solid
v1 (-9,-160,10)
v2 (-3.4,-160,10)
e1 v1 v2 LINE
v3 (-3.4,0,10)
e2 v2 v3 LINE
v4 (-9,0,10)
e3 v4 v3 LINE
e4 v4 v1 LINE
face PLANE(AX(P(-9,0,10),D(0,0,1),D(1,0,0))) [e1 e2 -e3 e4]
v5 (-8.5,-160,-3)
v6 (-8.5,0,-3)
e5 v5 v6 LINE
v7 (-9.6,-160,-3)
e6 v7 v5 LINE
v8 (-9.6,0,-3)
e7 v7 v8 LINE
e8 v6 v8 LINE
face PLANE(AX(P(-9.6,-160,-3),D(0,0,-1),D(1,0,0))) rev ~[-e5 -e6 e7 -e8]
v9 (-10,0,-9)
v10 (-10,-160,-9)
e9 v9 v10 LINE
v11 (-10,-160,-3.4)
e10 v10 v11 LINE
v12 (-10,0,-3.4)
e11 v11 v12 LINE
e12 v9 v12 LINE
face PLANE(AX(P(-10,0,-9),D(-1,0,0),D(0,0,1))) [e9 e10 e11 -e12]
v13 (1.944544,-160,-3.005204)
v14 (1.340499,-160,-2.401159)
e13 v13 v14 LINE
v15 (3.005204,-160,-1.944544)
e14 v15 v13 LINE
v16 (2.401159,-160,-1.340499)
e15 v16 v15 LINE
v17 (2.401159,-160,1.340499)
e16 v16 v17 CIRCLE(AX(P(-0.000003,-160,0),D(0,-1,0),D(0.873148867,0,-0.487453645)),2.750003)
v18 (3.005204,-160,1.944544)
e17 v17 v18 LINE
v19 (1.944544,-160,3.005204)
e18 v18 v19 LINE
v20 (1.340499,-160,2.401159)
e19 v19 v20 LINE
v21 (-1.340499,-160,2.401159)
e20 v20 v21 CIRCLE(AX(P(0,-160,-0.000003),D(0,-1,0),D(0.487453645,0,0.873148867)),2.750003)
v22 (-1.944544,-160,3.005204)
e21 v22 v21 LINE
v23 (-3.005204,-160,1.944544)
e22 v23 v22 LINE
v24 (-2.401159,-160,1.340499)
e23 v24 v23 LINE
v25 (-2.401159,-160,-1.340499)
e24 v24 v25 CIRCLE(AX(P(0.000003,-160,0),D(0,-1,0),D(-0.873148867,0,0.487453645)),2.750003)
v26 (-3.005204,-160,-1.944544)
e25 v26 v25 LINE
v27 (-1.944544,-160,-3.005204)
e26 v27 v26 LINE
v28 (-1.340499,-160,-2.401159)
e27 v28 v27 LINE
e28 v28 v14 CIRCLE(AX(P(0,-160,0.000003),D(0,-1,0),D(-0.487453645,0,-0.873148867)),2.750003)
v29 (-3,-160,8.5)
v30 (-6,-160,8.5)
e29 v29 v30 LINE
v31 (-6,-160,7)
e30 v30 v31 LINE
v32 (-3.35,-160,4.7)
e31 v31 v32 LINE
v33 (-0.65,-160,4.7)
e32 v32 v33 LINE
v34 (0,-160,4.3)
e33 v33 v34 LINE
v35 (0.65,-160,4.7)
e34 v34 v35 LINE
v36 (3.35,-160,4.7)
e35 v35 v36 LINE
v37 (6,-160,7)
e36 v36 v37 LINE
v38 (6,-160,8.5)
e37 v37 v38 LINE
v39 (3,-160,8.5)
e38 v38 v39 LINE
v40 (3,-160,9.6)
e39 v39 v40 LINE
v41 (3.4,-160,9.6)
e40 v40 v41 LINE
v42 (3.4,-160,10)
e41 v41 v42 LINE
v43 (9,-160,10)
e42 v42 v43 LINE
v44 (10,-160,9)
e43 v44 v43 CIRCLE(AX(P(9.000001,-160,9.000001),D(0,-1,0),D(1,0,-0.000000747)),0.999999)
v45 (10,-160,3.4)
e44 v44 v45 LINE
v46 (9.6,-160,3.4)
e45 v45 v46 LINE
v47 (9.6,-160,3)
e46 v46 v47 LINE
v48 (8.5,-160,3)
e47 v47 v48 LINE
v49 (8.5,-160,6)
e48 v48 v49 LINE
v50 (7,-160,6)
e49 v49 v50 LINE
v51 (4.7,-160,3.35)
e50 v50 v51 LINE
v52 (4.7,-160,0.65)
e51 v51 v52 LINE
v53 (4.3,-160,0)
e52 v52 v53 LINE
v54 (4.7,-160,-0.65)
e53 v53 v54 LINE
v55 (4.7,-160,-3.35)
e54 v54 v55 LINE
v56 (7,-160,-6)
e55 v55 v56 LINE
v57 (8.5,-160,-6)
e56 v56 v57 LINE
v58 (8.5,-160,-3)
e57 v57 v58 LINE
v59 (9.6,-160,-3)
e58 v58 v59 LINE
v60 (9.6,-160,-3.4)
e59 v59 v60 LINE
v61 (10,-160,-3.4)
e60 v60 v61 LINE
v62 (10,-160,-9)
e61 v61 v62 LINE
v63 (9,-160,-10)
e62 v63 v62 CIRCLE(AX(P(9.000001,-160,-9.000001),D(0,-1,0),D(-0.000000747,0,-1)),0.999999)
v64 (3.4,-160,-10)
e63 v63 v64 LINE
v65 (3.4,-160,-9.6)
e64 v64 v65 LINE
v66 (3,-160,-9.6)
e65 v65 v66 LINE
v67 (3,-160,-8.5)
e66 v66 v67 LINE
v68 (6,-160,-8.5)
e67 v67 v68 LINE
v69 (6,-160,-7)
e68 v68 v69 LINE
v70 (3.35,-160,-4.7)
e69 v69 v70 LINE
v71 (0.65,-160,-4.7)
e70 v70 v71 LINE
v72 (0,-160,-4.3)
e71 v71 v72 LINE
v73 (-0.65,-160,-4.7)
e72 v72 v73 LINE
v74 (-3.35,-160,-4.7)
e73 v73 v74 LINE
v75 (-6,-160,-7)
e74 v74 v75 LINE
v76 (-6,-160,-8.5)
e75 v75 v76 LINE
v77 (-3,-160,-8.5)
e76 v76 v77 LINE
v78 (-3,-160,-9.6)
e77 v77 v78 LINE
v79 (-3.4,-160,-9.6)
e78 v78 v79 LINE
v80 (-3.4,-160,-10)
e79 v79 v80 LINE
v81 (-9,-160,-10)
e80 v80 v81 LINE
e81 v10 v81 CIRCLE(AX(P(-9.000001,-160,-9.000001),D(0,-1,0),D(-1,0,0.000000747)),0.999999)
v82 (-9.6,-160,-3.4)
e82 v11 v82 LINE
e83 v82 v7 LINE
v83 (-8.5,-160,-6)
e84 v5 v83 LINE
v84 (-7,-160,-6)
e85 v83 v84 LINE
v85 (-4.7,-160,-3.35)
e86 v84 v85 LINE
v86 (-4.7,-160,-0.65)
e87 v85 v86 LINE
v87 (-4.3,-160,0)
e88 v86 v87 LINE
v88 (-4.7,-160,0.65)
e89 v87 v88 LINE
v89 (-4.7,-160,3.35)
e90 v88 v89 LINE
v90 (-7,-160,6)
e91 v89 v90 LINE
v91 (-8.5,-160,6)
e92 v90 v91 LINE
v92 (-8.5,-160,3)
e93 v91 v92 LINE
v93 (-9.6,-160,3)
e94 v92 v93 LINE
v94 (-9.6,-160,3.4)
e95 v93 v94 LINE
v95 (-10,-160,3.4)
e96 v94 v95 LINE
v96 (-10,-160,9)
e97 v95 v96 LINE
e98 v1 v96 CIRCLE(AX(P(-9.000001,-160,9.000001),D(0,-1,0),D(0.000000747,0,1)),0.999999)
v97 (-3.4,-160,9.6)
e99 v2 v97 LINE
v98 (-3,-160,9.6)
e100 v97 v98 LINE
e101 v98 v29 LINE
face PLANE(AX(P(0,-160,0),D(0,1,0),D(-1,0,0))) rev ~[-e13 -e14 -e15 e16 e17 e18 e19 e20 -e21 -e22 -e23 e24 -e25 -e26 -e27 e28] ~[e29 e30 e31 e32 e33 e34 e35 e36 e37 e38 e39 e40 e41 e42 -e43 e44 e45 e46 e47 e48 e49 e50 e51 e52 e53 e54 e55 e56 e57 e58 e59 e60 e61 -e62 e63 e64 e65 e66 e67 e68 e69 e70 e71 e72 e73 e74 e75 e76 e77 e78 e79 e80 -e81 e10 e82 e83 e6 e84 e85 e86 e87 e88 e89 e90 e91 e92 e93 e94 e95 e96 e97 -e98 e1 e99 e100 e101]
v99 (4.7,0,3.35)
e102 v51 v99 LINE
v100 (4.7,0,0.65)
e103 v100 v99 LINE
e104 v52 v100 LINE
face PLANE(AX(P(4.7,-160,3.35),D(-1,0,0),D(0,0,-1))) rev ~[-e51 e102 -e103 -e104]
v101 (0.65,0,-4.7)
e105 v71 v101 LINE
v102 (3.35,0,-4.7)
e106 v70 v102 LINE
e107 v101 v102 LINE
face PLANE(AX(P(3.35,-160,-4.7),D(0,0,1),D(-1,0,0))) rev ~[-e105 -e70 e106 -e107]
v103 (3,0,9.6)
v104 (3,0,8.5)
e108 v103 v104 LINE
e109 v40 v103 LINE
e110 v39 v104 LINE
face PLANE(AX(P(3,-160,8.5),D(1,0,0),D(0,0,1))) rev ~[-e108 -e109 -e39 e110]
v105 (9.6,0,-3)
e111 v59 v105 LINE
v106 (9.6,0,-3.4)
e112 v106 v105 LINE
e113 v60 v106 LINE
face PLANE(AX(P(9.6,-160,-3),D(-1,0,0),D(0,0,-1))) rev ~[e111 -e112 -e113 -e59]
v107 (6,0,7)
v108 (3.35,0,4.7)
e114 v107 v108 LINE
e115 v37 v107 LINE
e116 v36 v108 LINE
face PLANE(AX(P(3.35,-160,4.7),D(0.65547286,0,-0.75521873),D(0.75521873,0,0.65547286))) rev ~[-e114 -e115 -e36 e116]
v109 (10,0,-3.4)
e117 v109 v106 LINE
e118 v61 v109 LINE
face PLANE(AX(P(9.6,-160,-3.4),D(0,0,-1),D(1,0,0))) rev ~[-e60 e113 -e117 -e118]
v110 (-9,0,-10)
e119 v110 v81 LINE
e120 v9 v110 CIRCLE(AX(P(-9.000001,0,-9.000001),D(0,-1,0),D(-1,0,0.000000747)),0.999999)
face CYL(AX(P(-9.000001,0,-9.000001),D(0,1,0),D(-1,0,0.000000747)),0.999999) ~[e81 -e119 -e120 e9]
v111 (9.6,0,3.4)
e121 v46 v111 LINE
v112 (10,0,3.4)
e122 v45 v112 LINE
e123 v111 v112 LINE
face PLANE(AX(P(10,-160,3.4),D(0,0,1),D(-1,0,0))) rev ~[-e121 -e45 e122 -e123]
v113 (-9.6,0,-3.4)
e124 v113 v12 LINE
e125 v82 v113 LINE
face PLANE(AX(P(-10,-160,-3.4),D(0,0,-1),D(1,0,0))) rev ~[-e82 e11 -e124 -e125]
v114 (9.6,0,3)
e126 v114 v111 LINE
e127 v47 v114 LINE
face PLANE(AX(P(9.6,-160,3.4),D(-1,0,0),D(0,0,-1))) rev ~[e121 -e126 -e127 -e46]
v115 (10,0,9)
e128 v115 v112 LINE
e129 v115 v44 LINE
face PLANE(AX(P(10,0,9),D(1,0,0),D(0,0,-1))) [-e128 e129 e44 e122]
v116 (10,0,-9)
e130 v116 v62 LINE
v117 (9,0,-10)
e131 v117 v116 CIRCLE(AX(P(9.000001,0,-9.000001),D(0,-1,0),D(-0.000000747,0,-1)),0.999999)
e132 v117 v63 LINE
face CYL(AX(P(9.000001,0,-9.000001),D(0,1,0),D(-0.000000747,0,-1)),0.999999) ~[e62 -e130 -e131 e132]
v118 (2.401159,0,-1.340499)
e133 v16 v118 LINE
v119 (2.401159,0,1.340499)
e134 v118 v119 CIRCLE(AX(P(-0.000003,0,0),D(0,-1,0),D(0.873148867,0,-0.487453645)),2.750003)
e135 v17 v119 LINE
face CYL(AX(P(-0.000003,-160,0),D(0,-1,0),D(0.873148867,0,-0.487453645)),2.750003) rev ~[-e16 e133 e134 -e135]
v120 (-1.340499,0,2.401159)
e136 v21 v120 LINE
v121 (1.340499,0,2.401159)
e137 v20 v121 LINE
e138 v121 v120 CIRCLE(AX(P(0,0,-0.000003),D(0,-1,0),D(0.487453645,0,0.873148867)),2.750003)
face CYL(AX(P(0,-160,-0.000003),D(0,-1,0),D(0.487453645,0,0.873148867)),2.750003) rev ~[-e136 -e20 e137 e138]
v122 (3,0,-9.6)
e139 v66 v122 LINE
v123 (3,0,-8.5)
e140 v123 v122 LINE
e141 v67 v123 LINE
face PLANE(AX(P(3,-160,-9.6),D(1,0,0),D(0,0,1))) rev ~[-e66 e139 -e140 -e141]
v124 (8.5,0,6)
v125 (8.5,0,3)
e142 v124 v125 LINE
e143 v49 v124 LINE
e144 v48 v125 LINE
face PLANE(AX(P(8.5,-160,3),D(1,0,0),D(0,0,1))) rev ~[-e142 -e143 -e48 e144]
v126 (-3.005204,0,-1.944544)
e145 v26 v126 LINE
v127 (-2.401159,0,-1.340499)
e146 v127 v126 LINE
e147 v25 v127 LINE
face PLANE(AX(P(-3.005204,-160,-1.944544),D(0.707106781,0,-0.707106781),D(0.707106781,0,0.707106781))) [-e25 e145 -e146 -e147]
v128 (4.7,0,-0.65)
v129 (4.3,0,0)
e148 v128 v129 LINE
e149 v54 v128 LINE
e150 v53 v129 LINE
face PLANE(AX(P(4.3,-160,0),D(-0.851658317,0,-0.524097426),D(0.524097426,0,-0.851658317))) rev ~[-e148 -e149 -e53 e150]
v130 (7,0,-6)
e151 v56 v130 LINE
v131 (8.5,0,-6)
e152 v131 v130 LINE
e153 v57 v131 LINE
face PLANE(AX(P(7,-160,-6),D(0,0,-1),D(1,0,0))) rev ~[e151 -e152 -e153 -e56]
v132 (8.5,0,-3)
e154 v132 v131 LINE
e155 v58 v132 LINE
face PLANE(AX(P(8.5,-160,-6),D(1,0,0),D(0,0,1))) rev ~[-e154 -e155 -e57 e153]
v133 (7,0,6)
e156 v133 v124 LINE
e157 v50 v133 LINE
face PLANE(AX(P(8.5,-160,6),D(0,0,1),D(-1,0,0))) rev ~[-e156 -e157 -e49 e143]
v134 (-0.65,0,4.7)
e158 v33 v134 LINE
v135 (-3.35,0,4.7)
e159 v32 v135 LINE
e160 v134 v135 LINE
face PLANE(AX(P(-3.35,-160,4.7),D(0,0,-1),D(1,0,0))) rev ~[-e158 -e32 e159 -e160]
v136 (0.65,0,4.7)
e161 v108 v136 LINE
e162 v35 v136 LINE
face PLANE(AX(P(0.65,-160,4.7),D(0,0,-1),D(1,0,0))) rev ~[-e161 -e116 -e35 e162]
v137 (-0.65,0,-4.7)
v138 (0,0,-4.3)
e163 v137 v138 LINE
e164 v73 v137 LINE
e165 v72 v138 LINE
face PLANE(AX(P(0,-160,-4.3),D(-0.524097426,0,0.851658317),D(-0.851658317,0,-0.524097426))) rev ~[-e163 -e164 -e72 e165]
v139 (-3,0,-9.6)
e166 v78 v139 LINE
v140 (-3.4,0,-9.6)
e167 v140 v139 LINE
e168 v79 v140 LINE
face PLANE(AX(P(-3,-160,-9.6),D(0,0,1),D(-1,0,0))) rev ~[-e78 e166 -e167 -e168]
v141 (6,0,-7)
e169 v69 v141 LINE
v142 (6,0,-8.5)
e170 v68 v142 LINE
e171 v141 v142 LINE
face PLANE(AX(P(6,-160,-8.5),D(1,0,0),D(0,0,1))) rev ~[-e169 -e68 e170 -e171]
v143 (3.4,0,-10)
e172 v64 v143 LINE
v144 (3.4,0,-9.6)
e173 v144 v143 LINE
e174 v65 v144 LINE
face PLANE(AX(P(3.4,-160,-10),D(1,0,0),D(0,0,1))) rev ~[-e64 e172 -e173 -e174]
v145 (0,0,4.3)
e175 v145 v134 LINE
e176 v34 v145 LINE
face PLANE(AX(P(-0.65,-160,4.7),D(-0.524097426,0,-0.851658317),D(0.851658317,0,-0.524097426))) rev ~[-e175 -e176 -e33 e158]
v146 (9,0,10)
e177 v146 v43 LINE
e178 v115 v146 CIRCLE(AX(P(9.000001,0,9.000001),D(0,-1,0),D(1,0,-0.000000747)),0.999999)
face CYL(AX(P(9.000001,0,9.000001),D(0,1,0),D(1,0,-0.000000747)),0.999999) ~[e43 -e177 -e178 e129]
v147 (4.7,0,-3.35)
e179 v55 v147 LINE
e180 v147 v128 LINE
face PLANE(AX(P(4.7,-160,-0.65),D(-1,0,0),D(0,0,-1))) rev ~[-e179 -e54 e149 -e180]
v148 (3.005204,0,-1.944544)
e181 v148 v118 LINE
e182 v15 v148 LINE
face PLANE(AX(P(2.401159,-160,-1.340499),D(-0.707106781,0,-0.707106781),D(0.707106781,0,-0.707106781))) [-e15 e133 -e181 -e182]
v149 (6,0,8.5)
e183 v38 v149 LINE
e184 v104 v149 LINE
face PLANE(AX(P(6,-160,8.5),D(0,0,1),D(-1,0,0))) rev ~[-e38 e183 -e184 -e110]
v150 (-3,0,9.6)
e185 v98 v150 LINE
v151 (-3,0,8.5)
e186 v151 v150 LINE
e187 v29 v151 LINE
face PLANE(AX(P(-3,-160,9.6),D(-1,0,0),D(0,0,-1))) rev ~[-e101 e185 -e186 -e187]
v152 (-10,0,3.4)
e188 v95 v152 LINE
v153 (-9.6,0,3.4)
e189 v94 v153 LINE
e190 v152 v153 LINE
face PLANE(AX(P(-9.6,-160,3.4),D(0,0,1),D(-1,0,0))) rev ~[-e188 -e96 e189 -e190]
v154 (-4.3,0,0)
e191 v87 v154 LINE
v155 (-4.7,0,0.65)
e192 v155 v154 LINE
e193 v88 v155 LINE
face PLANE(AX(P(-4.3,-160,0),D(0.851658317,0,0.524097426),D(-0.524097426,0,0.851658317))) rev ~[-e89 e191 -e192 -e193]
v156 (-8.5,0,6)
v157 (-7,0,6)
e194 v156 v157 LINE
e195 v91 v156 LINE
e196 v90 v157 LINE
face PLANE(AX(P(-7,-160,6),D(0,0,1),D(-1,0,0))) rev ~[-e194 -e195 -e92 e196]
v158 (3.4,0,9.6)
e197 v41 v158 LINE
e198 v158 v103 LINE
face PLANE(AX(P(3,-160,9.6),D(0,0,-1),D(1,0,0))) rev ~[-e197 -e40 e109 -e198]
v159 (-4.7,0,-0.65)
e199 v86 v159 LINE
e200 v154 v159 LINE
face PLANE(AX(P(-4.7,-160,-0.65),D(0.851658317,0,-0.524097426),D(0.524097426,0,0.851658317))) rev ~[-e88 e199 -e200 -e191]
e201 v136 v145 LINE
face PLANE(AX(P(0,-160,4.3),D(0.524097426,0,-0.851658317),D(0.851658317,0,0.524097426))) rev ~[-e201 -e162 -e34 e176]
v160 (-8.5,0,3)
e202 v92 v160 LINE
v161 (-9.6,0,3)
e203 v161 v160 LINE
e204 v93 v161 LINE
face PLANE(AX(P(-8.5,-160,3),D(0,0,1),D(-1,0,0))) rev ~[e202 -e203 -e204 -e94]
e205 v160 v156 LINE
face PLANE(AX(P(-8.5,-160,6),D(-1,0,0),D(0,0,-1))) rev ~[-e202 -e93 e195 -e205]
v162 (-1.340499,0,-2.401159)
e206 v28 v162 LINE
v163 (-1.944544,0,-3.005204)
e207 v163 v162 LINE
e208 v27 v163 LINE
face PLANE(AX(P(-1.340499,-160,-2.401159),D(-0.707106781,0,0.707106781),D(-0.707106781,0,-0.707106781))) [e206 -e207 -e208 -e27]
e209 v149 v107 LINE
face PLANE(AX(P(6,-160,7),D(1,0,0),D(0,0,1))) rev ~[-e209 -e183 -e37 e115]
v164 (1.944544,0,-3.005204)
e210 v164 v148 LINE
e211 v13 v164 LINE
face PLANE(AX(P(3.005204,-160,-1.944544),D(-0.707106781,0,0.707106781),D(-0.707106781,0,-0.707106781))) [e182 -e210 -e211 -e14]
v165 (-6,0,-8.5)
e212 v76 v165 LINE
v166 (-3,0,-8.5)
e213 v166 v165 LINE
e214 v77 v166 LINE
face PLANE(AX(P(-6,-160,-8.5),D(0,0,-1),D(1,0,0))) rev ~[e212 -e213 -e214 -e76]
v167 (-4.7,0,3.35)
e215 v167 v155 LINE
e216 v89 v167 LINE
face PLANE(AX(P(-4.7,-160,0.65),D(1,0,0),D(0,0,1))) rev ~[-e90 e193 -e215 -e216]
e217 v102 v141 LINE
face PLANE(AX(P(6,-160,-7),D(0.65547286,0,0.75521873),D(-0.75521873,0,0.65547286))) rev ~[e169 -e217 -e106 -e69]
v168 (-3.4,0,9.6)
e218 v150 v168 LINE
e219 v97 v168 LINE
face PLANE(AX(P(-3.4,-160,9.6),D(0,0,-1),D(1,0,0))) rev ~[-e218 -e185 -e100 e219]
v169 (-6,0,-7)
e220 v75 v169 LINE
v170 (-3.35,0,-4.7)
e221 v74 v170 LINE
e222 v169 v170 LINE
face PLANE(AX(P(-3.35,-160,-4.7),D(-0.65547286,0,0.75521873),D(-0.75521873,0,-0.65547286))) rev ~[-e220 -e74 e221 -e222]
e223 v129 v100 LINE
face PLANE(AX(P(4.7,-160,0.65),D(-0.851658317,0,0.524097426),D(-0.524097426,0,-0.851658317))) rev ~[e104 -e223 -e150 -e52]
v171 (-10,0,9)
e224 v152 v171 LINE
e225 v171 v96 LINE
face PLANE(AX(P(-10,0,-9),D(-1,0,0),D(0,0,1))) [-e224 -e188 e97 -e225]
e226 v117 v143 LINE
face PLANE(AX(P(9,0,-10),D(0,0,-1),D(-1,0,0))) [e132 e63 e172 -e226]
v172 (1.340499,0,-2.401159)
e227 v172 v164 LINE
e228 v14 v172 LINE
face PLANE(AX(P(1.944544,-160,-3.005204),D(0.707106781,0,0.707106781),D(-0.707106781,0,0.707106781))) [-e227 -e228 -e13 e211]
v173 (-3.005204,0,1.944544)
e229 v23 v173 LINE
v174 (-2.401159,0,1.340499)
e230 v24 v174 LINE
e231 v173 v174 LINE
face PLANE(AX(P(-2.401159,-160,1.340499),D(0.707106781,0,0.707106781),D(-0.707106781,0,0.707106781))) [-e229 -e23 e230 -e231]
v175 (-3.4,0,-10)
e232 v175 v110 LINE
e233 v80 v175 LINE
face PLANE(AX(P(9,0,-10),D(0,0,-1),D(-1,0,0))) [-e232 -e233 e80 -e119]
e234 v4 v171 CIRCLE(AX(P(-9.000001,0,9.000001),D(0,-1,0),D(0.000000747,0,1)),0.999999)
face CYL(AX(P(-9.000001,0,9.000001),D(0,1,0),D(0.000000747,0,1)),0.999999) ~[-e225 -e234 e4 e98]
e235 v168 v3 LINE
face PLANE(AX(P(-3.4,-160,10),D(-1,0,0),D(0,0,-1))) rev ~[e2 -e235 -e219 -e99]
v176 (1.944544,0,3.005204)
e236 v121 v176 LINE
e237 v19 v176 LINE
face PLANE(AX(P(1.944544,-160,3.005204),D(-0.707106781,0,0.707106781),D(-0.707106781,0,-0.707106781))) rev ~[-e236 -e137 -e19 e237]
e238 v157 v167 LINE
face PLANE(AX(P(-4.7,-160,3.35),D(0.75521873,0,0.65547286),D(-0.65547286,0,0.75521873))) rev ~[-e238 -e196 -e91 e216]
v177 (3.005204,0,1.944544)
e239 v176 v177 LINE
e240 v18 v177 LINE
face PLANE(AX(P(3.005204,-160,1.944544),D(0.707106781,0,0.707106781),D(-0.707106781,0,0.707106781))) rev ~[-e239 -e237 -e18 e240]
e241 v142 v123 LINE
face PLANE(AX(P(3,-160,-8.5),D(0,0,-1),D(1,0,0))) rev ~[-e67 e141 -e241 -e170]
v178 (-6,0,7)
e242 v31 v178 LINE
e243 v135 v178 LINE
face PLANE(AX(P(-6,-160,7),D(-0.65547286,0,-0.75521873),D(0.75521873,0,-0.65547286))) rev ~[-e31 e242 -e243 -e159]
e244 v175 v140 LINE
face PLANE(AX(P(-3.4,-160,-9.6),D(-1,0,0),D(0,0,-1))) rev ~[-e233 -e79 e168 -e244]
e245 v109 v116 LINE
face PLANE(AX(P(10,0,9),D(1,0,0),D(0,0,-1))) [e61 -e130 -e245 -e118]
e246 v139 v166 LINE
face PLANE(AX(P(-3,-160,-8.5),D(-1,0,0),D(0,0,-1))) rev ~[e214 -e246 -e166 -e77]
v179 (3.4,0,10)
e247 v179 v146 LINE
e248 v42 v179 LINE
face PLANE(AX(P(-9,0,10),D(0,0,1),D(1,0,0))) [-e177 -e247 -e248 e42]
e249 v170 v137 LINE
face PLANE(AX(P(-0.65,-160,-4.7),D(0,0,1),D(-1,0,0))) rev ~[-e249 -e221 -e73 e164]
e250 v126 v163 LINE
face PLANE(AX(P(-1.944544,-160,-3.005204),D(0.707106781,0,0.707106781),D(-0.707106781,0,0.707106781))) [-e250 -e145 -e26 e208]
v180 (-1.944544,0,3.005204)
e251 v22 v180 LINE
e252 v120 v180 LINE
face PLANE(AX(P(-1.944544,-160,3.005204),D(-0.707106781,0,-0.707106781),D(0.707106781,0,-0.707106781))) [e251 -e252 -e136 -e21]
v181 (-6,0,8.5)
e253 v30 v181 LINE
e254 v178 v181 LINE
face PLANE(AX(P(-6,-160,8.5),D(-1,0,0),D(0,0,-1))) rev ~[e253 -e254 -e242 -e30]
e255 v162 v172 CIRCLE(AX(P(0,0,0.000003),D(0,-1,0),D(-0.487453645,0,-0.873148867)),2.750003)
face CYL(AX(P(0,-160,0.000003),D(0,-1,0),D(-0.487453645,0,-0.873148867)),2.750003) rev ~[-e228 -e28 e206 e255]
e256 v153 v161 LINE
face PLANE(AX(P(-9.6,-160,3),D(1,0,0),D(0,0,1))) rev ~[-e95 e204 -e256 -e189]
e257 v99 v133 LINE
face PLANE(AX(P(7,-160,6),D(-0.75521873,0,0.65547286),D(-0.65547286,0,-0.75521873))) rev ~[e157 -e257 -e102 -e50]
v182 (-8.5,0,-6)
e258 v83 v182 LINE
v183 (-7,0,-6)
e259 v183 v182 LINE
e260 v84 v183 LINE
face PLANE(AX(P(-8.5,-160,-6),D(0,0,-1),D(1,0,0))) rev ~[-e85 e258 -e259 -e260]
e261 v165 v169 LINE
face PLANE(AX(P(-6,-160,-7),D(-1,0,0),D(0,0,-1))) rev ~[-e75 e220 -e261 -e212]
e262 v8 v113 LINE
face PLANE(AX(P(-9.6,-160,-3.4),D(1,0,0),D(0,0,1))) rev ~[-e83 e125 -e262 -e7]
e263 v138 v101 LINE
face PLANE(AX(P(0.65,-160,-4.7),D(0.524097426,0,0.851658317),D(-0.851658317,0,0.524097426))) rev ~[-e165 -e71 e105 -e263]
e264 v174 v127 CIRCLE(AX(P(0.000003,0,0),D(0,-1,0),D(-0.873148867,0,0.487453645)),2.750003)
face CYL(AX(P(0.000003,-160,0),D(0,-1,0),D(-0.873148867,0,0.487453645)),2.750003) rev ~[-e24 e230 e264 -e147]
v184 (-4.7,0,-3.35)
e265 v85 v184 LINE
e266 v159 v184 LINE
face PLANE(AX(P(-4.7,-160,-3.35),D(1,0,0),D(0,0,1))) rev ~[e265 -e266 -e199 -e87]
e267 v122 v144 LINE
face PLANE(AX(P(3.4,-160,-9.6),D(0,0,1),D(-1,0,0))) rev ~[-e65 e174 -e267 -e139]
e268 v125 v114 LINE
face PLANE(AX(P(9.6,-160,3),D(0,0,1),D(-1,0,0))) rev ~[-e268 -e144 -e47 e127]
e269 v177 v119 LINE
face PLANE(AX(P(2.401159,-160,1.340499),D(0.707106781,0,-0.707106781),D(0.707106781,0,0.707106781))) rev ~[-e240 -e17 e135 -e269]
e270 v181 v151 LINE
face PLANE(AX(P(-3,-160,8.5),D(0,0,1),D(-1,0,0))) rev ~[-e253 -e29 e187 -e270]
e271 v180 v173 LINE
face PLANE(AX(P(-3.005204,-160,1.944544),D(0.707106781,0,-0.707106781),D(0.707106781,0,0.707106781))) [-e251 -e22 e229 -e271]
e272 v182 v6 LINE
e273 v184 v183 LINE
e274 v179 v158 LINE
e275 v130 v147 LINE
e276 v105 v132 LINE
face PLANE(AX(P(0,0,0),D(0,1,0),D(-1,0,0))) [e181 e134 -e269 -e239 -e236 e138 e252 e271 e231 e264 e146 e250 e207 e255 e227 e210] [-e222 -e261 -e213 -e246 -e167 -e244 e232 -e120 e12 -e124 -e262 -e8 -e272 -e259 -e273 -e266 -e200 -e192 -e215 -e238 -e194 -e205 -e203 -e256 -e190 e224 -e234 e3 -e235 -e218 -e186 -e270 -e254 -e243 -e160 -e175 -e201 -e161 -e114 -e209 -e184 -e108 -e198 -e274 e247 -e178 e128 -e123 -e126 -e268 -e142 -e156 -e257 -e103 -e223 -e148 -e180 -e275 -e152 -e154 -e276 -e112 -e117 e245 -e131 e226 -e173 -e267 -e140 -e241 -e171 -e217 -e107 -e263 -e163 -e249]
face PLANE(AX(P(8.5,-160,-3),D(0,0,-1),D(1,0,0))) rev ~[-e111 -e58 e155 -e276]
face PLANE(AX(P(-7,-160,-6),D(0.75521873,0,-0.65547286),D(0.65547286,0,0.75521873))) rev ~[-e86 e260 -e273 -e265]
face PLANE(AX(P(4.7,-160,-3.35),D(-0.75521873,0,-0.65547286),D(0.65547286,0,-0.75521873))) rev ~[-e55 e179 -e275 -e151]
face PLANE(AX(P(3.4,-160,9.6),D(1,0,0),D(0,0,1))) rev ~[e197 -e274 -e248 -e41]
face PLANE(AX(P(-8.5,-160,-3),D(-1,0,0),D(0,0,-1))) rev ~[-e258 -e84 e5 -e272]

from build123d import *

# Parameters (mm, degrees)
PAD_DEPTH          = 160
POCKET_DEPTH       = 380
POLARPATTERN_COUNT = 4
POCKET001_DEPTH    = 380


with BuildPart() as part:
    # Sketch → Pad (new body)
    with BuildSketch(Plane.XZ):
        with BuildLine():
            Line((-9, 10), (9, 10))
            ThreePointArc((10, 9), (9.707107, 9.707107), (9, 10))
            Line((10, 9), (10, -9))
            ThreePointArc((9, -10), (9.707107, -9.707107), (10, -9))
            Line((9, -10), (-9, -10))
            ThreePointArc((-10, -9), (-9.707107, -9.707107), (-9, -10))
            Line((-10, -9), (-10, 9))
            ThreePointArc((-9, 10), (-9.707107, 9.707107), (-10, 9))
        make_face()
    extrude(amount=PAD_DEPTH)

    # Sketch001 (on Face10 of Pad) → Pocket (cut)
    with BuildSketch(Plane.XZ.offset(160)):
        Polygon((-3.4, 10), (-3.4, 9.6), (-3, 9.6), (-3, 8.5), (-6, 8.5), (-6, 7), (-3.35, 4.7), (-0.65, 4.7), (0, 4.3), (0.65, 4.7), (3.35, 4.7), (6, 7), (6, 8.5), (3, 8.5), (3, 9.6), (3.4, 9.6), (3.4, 10), align=None)
    pocket = extrude(amount=-POCKET_DEPTH, mode=Mode.SUBTRACT)

    # PolarPattern: Pocket ×4 about axis
    polarpattern_axis = Axis((0, -160, 0), (0, -1, 0))
    for i in range(1, POLARPATTERN_COUNT):
        add(pocket.rotate(polarpattern_axis, i * 360 / POLARPATTERN_COUNT), mode=Mode.SUBTRACT)

    # Sketch002 (on Face4 of PolarPattern) → Pocket001 (cut)
    with BuildSketch(Plane.XZ.offset(160)):
        with BuildLine():
            ThreePointArc((1.340499, 2.401159), (0, 2.75), (-1.340499, 2.401159))
            Line((-1.944544, 3.005204), (-1.340499, 2.401159))
            Line((-3.005204, 1.944544), (-1.944544, 3.005204))
            Line((-2.401159, 1.340499), (-3.005204, 1.944544))
            ThreePointArc((-2.401159, 1.340499), (-2.75, 0), (-2.401159, -1.340499))
            Line((-3.005204, -1.944544), (-2.401159, -1.340499))
            Line((-1.944544, -3.005204), (-3.005204, -1.944544))
            Line((-1.340499, -2.401159), (-1.944544, -3.005204))
            ThreePointArc((-1.340499, -2.401159), (0, -2.75), (1.340499, -2.401159))
            Line((1.944544, -3.005204), (1.340499, -2.401159))
            Line((3.005204, -1.944544), (1.944544, -3.005204))
            Line((2.401159, -1.340499), (3.005204, -1.944544))
            ThreePointArc((2.401159, -1.340499), (2.75, 0), (2.401159, 1.340499))
            Line((2.401159, 1.340499), (3.005204, 1.944544))
            Line((3.005204, 1.944544), (1.944544, 3.005204))
            Line((1.944544, 3.005204), (1.340499, 2.401159))
        make_face()
    extrude(amount=-POCKET001_DEPTH, mode=Mode.SUBTRACT)


solid = part.part
